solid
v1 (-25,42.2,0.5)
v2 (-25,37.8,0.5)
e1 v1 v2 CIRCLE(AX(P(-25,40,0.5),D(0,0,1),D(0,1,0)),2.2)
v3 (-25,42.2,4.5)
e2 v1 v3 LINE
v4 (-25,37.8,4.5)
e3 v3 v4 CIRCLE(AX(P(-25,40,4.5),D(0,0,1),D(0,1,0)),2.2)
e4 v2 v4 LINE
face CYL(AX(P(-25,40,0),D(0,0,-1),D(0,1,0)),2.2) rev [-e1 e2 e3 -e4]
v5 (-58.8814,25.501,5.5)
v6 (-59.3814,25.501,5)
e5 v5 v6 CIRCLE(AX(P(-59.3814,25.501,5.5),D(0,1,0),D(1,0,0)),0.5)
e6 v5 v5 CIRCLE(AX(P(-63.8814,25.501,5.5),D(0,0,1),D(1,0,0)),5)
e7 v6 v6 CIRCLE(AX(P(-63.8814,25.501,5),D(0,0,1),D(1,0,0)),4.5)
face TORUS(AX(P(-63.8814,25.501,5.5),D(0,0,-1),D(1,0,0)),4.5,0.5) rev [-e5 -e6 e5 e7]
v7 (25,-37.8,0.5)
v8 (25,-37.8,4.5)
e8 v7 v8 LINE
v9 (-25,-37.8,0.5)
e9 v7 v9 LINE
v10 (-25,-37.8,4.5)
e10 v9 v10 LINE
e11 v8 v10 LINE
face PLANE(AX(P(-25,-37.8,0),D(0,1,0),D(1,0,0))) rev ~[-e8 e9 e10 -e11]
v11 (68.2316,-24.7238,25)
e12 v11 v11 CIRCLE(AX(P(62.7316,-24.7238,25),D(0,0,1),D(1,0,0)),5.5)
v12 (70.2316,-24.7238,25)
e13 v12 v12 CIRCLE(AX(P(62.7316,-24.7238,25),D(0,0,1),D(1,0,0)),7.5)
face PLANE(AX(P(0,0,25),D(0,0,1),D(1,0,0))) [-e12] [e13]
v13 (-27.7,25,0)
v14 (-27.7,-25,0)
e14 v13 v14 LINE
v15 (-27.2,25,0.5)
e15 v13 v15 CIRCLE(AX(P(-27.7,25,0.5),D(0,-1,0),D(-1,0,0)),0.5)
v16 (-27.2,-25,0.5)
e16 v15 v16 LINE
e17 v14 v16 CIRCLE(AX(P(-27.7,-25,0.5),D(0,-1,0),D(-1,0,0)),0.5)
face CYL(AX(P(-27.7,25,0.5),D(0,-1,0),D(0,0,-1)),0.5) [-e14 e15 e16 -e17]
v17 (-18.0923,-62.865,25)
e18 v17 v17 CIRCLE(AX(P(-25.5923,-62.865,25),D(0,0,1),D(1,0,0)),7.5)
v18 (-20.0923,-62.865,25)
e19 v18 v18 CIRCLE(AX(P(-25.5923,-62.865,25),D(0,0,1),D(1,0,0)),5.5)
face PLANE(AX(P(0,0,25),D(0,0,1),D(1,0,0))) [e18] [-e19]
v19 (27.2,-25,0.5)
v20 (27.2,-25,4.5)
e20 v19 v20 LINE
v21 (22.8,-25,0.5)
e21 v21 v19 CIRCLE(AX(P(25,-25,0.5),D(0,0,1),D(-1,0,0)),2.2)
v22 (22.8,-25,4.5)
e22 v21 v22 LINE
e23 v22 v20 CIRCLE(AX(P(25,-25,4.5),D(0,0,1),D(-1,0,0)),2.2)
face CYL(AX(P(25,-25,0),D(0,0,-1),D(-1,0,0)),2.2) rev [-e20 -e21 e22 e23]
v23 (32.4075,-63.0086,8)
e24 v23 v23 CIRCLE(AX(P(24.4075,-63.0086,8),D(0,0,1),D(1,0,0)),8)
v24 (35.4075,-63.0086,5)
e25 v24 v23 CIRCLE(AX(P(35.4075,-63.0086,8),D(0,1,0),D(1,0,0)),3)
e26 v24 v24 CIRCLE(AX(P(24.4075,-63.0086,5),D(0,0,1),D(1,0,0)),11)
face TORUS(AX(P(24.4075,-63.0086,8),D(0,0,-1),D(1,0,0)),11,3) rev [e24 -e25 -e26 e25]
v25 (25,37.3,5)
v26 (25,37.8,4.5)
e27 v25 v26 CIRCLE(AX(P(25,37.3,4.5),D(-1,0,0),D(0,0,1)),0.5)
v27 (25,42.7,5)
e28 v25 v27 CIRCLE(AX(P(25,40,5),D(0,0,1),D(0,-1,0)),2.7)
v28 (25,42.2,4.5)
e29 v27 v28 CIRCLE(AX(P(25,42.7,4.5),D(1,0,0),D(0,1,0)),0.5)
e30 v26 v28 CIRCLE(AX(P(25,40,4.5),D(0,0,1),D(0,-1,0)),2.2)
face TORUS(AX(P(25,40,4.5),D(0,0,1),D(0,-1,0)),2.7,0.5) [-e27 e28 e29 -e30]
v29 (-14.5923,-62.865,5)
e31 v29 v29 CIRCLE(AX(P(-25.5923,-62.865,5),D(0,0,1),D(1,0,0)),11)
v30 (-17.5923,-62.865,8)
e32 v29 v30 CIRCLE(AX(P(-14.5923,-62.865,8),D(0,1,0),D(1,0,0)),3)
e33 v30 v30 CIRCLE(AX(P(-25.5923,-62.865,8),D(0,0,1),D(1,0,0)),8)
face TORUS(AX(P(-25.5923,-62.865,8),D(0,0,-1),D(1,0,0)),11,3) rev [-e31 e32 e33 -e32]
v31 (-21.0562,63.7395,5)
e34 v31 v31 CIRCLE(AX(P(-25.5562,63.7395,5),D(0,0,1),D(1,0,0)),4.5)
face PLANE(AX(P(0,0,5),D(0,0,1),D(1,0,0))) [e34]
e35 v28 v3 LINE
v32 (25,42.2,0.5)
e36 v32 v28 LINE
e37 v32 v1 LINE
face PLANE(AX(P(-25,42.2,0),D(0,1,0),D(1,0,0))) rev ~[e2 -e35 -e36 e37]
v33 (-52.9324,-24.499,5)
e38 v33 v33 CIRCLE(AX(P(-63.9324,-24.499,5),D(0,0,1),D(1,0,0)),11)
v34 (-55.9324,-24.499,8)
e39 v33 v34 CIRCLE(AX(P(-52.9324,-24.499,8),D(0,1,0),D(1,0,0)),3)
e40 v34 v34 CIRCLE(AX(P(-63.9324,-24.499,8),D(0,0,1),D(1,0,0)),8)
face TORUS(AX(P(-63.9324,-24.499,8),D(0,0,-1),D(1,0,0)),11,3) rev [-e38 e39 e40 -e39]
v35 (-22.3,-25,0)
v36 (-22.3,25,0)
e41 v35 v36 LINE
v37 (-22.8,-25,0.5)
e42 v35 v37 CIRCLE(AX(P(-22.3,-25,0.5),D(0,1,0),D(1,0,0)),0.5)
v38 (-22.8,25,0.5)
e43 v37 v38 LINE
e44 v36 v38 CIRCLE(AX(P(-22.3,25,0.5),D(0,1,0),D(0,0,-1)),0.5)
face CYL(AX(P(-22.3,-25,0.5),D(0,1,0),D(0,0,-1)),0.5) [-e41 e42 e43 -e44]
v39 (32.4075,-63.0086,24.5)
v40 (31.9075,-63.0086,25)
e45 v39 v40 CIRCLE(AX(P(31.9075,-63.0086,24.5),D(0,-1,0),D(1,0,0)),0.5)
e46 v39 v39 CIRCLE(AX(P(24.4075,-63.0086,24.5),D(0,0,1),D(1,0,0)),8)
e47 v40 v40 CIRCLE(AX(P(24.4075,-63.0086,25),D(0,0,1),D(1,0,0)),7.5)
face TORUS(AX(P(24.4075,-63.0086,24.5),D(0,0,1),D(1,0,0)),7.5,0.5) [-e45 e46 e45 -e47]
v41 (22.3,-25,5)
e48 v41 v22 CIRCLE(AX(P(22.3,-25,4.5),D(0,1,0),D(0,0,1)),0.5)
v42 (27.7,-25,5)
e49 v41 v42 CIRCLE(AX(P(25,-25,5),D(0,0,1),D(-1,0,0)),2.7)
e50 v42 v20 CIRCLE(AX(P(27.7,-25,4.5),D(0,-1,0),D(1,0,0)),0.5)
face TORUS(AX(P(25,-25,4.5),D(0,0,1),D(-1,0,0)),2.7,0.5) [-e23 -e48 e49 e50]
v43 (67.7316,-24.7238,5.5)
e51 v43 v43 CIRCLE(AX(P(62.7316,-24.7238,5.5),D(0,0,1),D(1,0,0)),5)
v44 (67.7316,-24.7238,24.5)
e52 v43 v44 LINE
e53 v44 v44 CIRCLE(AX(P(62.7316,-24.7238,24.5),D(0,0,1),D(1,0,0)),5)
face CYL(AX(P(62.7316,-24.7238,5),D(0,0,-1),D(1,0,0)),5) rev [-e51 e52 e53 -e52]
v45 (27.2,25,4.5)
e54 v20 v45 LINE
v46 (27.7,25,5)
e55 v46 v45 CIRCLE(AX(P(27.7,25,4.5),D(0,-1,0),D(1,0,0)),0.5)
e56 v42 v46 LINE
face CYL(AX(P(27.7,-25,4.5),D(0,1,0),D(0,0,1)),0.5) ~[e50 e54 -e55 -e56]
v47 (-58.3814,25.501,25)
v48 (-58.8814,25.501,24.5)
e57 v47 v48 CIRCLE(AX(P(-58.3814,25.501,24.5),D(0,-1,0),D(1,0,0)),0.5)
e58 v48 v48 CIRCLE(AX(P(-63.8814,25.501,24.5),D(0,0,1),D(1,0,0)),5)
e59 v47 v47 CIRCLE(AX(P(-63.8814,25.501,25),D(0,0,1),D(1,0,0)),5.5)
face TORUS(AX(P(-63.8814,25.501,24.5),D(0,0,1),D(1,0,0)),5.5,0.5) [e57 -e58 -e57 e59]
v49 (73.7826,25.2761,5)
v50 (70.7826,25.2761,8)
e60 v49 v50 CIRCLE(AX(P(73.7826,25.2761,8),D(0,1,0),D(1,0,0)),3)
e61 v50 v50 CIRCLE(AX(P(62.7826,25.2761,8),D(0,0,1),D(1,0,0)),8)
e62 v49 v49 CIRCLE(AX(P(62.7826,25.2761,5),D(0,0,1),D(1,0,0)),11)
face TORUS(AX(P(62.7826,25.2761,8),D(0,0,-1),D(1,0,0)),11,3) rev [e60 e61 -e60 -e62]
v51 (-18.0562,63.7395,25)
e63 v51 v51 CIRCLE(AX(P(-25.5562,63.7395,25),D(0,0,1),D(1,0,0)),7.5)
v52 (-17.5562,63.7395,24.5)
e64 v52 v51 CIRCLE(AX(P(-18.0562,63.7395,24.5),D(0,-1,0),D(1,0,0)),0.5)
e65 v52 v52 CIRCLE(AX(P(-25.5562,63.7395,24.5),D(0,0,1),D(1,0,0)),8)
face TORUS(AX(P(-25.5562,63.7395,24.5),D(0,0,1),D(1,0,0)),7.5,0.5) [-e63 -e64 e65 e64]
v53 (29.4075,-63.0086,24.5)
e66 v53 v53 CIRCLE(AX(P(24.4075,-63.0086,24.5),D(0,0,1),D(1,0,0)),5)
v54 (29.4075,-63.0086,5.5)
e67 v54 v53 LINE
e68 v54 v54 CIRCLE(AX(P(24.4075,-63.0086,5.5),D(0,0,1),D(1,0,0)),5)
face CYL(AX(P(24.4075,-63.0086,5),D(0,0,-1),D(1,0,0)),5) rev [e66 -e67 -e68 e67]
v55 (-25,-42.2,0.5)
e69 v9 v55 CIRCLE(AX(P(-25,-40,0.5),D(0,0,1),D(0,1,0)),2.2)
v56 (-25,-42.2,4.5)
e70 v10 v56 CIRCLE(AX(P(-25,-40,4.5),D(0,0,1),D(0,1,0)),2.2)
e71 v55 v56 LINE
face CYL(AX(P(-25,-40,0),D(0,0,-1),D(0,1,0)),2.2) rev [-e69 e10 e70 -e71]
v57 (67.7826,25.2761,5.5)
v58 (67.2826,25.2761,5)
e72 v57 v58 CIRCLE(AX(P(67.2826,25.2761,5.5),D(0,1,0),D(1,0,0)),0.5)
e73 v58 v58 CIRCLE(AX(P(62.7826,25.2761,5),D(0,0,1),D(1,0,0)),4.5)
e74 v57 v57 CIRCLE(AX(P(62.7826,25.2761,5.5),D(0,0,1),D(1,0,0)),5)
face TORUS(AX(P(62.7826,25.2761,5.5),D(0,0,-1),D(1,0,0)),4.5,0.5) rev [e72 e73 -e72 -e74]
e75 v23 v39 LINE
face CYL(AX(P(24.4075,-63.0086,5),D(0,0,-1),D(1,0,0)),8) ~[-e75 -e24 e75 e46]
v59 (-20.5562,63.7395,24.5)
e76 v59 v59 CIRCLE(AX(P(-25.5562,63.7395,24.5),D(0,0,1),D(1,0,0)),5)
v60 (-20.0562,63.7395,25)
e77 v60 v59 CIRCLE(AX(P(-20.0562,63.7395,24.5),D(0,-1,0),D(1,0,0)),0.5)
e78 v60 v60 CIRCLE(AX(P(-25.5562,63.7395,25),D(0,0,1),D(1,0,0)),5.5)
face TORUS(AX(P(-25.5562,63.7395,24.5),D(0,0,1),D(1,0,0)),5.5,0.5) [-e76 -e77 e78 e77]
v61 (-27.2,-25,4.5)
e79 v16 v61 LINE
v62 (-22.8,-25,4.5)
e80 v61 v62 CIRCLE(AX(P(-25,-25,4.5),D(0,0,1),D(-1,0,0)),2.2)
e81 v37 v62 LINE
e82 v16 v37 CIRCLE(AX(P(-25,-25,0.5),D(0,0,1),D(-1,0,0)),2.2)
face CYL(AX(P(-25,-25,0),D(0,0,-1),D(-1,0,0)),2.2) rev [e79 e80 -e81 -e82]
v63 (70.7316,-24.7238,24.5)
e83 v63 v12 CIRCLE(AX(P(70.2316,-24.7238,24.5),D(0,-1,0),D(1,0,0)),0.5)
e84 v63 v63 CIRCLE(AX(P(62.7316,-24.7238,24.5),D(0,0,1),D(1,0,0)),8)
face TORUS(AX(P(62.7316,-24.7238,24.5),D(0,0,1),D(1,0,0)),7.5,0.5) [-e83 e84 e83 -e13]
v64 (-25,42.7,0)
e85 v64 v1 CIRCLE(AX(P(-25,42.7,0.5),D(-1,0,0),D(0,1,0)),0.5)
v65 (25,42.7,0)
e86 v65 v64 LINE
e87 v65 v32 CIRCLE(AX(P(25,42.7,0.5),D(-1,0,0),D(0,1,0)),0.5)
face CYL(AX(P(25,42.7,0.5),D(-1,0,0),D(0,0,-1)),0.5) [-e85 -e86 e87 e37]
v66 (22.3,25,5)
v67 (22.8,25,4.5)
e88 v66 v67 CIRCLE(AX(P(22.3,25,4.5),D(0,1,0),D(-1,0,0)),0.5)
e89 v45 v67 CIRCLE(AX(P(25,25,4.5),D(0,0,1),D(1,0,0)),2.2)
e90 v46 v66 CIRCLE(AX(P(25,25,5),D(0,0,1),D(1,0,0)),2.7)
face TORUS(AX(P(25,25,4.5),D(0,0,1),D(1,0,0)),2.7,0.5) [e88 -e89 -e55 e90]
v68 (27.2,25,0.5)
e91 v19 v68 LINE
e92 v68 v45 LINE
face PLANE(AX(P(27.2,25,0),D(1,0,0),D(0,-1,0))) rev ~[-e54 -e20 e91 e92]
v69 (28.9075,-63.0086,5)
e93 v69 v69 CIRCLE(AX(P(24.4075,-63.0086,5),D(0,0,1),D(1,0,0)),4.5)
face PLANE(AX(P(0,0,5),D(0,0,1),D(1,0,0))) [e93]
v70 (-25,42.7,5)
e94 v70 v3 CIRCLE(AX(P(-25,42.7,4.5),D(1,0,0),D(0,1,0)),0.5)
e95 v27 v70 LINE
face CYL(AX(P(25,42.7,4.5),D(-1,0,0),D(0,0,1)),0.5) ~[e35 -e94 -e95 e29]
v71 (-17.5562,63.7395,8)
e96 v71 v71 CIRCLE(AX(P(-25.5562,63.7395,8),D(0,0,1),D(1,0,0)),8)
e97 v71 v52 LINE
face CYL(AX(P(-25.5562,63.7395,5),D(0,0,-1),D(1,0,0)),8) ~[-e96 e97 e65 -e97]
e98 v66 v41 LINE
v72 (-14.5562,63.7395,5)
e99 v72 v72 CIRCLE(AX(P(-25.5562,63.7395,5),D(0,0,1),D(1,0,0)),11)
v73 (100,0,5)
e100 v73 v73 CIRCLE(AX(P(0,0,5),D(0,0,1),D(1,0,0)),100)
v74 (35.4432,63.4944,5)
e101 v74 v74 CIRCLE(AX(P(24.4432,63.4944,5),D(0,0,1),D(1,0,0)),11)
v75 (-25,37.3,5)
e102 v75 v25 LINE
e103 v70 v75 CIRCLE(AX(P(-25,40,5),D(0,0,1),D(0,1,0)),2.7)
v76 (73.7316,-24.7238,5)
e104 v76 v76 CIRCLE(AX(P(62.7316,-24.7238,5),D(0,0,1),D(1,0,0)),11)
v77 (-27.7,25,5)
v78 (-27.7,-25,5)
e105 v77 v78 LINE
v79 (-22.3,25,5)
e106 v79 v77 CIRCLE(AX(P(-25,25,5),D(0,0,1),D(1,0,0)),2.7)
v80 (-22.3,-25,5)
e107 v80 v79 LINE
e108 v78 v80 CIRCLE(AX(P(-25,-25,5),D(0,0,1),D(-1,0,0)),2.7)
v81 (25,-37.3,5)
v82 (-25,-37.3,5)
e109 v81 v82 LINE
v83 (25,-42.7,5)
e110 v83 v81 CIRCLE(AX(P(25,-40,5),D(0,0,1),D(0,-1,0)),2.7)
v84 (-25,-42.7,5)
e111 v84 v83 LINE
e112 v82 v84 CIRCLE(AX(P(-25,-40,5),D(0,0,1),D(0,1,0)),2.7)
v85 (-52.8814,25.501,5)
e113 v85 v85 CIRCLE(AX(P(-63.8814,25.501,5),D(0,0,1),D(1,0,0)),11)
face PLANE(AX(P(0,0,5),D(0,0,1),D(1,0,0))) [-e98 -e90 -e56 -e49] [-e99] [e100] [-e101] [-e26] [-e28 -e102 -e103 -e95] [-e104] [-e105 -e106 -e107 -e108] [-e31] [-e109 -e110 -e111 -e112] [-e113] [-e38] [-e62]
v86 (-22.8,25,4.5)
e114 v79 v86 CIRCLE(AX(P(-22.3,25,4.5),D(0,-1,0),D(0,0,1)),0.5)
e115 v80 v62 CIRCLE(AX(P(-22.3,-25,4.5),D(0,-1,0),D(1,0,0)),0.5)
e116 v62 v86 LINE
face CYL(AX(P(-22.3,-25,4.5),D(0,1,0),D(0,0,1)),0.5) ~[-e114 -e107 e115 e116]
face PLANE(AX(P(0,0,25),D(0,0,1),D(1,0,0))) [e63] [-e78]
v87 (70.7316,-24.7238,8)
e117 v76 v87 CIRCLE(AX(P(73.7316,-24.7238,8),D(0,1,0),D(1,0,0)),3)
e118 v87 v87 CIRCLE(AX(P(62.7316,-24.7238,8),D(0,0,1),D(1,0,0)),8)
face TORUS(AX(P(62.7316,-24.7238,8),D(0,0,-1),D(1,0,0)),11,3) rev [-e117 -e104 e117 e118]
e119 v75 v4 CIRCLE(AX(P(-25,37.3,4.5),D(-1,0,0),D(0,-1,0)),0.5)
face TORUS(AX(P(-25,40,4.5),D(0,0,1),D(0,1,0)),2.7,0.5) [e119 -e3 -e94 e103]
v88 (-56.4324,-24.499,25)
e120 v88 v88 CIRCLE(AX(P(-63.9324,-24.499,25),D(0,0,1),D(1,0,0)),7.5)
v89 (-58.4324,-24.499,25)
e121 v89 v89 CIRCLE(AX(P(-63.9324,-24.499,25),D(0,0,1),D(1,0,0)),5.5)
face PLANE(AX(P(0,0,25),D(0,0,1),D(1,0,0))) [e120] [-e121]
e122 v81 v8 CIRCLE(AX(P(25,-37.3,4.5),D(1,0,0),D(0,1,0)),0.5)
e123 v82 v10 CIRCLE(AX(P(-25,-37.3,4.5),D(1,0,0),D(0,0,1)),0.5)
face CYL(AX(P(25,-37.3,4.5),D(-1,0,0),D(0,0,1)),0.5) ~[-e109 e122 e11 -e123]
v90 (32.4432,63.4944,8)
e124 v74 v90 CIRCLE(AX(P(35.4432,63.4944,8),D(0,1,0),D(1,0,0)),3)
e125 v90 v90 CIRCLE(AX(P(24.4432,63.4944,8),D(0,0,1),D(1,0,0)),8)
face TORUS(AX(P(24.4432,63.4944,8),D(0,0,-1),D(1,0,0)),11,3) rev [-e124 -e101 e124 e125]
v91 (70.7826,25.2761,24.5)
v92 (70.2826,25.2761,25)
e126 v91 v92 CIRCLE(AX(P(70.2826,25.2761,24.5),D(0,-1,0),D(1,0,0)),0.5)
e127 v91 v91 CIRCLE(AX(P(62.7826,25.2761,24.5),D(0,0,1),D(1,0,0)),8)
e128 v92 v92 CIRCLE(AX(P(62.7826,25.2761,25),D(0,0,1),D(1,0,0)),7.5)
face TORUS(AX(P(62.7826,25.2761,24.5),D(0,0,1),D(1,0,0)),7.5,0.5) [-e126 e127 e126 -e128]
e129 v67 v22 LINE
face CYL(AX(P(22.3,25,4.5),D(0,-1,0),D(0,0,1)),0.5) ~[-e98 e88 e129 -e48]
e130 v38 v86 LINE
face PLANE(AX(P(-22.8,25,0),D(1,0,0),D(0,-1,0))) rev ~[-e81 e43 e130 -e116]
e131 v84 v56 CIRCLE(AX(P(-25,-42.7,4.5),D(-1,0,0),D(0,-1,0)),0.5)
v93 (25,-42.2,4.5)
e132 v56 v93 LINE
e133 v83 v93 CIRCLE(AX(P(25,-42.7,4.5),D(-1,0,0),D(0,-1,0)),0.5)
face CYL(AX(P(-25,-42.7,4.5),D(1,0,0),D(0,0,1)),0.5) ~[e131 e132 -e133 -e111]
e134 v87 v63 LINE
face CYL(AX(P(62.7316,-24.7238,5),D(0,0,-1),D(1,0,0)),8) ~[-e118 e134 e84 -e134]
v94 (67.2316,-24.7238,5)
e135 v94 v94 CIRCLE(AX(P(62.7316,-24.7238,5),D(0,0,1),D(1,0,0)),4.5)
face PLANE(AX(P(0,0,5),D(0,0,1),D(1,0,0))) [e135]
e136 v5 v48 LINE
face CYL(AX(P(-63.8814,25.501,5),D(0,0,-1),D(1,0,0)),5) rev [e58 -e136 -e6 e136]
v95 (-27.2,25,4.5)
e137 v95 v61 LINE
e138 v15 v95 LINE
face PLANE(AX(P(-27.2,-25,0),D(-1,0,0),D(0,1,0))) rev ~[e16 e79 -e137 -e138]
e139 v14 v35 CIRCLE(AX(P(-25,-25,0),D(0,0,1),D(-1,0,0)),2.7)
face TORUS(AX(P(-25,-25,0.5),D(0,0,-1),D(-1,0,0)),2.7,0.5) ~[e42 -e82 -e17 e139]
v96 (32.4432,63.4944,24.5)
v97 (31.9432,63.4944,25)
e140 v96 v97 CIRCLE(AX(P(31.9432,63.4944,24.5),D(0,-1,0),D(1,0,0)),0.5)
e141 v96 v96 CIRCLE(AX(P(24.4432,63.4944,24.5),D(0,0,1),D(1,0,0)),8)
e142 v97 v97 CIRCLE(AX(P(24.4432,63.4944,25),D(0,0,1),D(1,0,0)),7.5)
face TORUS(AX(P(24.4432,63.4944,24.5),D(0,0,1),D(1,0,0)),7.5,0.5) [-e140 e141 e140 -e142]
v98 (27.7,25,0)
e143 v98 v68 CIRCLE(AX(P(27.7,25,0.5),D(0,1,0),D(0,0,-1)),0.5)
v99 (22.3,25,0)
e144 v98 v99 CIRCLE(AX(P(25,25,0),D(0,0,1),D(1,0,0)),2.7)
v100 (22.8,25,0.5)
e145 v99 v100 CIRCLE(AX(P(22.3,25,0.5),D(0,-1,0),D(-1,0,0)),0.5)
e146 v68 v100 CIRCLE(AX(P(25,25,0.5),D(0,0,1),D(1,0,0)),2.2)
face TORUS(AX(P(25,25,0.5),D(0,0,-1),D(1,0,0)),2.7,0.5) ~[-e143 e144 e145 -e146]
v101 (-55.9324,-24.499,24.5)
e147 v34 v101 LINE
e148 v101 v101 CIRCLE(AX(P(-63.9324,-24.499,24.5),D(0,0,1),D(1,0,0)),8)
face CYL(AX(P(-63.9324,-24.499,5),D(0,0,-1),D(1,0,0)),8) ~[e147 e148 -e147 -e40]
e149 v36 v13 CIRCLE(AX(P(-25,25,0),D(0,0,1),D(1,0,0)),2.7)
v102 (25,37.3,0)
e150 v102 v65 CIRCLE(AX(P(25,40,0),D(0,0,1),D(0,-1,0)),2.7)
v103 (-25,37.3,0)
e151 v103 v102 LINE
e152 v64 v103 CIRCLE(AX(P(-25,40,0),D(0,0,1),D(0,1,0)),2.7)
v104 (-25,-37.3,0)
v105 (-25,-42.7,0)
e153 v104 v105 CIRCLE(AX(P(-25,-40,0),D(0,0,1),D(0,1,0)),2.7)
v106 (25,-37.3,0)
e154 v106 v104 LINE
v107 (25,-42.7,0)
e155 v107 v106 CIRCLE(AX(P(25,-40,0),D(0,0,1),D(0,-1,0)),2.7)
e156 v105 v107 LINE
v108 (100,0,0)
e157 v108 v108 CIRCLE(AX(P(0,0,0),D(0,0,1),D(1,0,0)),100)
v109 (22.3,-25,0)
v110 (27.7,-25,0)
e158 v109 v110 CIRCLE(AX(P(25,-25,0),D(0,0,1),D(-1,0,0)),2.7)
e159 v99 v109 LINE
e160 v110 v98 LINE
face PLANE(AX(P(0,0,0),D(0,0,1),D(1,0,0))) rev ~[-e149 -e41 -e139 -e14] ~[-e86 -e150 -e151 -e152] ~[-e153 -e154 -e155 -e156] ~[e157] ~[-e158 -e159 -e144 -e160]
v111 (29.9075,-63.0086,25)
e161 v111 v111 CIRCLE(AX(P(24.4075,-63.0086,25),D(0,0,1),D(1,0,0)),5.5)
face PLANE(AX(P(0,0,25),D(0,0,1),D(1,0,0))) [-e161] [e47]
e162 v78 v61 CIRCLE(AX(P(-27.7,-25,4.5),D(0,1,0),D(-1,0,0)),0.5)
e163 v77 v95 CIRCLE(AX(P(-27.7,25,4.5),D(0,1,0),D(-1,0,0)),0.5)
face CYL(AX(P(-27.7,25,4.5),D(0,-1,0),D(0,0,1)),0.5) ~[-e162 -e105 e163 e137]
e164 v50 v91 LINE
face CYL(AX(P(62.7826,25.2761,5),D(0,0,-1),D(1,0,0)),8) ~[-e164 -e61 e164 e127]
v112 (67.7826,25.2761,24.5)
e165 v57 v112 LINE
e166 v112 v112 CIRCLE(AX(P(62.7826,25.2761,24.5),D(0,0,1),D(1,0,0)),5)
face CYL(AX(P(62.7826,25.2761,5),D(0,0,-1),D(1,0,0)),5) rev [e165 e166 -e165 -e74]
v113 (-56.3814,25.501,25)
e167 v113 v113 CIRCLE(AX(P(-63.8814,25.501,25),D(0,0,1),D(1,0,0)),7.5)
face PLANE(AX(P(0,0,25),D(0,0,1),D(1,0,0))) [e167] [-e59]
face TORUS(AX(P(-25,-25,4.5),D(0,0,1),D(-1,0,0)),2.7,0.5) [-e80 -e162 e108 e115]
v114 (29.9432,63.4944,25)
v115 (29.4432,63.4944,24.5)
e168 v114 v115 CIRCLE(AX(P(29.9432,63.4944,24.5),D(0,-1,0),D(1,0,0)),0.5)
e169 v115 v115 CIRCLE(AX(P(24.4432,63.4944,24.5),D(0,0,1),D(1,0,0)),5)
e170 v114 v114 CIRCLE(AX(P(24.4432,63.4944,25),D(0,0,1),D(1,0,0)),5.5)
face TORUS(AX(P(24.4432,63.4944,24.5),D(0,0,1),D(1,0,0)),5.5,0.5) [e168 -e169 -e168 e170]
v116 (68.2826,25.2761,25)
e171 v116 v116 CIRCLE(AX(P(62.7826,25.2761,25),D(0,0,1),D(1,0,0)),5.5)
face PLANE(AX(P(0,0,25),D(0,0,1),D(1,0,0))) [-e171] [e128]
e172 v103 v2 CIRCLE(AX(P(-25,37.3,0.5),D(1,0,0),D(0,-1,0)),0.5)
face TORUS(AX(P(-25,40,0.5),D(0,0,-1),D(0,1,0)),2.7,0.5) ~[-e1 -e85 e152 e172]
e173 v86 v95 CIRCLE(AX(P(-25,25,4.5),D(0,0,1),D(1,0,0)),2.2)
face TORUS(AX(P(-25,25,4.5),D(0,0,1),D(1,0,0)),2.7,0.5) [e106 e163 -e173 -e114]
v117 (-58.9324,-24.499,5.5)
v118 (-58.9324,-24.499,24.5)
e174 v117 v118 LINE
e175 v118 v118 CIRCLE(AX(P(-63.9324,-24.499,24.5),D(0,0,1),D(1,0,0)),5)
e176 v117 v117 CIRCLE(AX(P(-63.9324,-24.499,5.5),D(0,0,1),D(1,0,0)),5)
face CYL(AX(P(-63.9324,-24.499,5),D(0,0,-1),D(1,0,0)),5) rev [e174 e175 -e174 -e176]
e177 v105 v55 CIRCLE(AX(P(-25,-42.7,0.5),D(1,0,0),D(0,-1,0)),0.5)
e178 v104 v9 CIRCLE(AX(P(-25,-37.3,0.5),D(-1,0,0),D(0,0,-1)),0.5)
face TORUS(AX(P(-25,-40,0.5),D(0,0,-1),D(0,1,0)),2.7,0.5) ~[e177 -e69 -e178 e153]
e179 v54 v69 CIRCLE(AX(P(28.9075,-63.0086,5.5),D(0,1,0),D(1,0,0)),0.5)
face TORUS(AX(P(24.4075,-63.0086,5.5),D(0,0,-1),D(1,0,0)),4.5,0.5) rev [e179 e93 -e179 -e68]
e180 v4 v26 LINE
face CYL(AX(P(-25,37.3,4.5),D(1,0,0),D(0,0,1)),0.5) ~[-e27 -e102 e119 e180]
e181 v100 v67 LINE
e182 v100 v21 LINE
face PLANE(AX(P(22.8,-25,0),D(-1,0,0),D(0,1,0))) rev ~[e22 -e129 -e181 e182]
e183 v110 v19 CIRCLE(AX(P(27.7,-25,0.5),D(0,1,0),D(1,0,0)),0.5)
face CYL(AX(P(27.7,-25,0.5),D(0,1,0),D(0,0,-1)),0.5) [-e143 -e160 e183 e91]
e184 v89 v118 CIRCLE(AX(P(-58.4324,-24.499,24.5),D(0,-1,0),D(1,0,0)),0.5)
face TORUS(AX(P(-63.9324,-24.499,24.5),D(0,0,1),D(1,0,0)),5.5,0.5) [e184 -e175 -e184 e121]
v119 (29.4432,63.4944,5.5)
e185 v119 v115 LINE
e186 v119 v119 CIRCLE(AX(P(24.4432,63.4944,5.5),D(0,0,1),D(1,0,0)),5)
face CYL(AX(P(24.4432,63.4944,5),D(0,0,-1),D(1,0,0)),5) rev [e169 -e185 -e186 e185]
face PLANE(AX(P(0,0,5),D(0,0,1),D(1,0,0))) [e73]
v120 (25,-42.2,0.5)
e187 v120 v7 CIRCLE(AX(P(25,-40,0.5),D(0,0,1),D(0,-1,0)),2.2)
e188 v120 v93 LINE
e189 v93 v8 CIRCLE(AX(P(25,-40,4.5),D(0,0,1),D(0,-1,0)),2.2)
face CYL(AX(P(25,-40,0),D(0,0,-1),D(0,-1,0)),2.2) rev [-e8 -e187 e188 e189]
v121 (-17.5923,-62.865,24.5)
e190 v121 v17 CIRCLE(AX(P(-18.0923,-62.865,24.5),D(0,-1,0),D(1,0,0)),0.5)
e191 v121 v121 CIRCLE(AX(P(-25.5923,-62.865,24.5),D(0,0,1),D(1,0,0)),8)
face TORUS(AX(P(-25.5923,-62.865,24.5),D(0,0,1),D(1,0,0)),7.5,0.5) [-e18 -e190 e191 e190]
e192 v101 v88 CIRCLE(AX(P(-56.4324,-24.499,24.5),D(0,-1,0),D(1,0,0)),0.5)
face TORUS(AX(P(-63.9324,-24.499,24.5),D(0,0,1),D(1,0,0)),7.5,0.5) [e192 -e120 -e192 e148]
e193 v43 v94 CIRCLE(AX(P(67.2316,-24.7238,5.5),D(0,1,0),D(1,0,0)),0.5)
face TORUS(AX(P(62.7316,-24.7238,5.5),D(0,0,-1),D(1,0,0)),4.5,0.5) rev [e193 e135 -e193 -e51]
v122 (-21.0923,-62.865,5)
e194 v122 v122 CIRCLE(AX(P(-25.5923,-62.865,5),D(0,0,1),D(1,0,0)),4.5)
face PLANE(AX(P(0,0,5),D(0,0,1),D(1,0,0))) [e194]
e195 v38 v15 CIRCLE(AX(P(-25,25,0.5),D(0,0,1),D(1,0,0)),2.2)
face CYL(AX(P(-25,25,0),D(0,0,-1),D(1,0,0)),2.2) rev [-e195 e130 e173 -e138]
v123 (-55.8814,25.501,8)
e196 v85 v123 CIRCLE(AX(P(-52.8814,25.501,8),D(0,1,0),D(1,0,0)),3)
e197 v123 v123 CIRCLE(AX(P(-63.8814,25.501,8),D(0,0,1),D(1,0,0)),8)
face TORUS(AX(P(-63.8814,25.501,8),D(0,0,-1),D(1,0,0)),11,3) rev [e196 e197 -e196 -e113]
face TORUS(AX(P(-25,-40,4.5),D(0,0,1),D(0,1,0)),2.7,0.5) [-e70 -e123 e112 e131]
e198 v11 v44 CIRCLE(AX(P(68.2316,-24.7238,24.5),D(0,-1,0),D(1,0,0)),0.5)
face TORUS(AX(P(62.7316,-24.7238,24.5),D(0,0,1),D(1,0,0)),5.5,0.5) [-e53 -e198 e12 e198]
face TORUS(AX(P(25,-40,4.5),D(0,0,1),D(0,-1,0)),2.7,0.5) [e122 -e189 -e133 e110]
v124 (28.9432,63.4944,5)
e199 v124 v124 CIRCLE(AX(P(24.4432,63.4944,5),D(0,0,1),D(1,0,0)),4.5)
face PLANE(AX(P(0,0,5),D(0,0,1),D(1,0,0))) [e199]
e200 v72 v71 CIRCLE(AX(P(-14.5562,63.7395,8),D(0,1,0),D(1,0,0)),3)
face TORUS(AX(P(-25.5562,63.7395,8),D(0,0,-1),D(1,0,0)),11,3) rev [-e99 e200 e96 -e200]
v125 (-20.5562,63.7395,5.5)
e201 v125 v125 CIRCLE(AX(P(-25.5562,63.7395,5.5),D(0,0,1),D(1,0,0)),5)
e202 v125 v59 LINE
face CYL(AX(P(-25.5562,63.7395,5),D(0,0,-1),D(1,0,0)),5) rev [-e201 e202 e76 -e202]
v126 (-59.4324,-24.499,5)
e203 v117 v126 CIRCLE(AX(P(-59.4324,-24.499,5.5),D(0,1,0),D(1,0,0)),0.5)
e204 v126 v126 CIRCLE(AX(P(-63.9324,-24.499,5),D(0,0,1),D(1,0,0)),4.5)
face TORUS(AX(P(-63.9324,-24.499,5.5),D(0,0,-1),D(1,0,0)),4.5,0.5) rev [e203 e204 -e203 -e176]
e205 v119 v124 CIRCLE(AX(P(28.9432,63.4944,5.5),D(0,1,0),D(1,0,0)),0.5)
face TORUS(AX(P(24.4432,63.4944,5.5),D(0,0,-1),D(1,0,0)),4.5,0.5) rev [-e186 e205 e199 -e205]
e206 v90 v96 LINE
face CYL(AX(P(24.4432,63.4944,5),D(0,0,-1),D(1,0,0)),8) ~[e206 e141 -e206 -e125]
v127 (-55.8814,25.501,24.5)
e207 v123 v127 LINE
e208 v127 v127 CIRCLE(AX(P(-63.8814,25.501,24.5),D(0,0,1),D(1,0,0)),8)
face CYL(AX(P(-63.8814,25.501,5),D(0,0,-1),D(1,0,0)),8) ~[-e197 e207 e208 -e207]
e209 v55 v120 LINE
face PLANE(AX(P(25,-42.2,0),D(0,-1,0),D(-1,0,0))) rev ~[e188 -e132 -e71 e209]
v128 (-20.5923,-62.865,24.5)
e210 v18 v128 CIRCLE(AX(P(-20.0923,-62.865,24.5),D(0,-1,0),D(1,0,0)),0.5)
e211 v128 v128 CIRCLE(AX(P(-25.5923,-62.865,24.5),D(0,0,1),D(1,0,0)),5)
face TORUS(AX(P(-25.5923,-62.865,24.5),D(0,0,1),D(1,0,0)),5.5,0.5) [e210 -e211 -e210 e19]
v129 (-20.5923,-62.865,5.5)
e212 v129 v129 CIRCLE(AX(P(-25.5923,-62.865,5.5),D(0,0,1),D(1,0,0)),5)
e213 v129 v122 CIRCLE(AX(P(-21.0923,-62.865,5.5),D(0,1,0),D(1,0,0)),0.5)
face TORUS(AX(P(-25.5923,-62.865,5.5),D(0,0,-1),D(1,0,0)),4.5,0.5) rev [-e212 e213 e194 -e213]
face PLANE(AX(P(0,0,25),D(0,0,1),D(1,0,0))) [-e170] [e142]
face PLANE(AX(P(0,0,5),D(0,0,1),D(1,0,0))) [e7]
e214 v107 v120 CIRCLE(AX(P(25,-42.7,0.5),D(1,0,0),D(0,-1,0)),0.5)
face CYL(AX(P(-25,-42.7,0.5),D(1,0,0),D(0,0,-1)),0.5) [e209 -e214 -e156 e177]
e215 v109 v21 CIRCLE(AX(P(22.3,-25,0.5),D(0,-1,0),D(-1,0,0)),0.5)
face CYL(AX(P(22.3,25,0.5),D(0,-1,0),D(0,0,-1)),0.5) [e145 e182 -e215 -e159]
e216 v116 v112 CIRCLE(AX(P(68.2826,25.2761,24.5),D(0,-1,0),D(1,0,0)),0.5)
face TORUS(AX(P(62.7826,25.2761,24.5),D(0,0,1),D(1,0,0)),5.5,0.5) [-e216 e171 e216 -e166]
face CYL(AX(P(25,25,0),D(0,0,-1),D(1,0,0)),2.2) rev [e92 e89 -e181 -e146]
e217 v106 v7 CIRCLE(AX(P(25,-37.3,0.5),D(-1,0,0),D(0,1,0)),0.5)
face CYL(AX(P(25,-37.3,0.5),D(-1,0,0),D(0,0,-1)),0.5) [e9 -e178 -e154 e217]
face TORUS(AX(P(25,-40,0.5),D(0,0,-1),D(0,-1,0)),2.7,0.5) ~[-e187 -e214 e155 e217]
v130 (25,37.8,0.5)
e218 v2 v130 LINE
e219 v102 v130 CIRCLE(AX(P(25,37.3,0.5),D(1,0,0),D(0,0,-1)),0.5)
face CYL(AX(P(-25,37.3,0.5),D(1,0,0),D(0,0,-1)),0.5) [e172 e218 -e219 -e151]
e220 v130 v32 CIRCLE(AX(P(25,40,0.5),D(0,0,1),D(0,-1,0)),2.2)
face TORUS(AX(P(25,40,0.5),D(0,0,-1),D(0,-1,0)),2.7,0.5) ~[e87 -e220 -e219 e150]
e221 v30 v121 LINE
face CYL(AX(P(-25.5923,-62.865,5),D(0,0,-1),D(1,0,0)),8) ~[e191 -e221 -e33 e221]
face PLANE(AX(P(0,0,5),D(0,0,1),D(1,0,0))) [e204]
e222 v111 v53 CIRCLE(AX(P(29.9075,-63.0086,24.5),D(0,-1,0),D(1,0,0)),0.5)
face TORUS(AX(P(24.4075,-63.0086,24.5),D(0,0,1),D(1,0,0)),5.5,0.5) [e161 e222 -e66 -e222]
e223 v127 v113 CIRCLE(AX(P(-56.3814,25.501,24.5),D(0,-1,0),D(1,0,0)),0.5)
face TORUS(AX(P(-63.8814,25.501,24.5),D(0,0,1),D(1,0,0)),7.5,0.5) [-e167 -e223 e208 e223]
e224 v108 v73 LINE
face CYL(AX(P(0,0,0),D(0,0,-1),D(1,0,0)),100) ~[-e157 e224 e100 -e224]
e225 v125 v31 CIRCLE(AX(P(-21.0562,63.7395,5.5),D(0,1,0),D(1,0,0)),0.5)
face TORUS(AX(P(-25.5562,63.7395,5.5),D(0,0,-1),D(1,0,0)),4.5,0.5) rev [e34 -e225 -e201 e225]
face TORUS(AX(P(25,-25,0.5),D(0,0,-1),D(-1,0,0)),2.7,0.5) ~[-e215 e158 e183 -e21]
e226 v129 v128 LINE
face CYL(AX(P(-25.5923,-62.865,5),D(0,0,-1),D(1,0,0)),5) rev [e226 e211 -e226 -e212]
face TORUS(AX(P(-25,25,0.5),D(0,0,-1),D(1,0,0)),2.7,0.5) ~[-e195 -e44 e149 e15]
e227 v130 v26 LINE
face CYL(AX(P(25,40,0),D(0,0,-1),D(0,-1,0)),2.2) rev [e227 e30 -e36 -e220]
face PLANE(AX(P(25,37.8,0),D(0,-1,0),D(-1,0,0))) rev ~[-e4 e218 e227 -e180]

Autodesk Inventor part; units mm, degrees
ref_plane "YZ Plane" through (0, 0, 0) normal (1, 0, 0) x (0, 1, 0)
ref_plane "XZ Plane" through (0, 0, 0) normal (0, 1, 0) x (-1, 0, 0)
ref_plane "XY Plane" through (0, 0, 0) normal (0, 0, 1) x (1, 0, 0)
sketch "Sketch1" plane through (0, 0, 0) normal (0, 0, 1) x (1, 0, 0)
  circle A0 centre (0, 0) radius 100
  arc A1 (-22.8, 25) -> (-27.2, 25) centre (-25, 25) ccw
  line L0 (-25, 25) -> (-25, -25)
  arc A2 (-27.2, -25) -> (-22.8, -25) centre (-25, -25) ccw
  line L1 (-27.2, -25) -> (-27.2, 25)
  line L2 (-22.8, 25) -> (-22.8, -25)
  arc A3 (-25, 42.2) -> (-25, 37.8) centre (-25, 40) ccw
  line L3 (-25, 40) -> (25, 40)
  arc A4 (25, 37.8) -> (25, 42.2) centre (25, 40) ccw
  line L4 (-25, 42.2) -> (25, 42.2)
  line L5 (25, 37.8) -> (-25, 37.8)
  arc A5 (25, -42.2) -> (25, -37.8) centre (25, -40) ccw
  arc A6 (-25, -37.8) -> (-25, -42.2) centre (-25, -40) ccw
  line L6 (25, -42.2) -> (-25, -42.2)
  line L7 (-25, -37.8) -> (25, -37.8)
  line L8 (25, -40) -> (-25, -40)
  arc A7 (22.8, -25) -> (27.2, -25) centre (25, -25) ccw
  line L9 (25, -25) -> (25, 25)
  line L10 (27.2, 25) -> (27.2, -25)
  line L11 (22.8, -25) -> (22.8, 25)
  arc A8 (27.2, 25) -> (22.8, 25) centre (25, 25) ccw
  dimension "d0" = 200
  dimension "d1" = 4.4
  dimension "d2" = 50
  dimension "d3" = 4.4
  dimension "d8" = 4.4
  dimension "d9" = 50
  dimension "d10" = 4.4
  dimension "d11" = 40
  dimension "d14" = 360
extrude "Extrusion1" add sketch "Sketch1" along normal blind 5
sketch "Sketch2" plane through (0, 0, 5) normal (0, 0, 1) x (1, 0, 0)
  circle A0 centre (-63.8814, 25.501) radius 5 projected
  circle A1 centre (-63.9324, -24.499) radius 5 projected
  circle A2 centre (-25.5923, -62.865) radius 5 projected
  circle A3 centre (24.4075, -63.0086) radius 5 projected
  circle A4 centre (62.7316, -24.7238) radius 5 projected
  circle A5 centre (62.7826, 25.2761) radius 5 projected
  circle A6 centre (-25.5562, 63.7395) radius 5 projected
  circle A7 centre (24.4432, 63.4944) radius 5 projected
  circle A8 centre (24.4075, -63.0086) radius 8
  circle A9 centre (-25.5923, -62.865) radius 8
  circle A10 centre (-63.9324, -24.499) radius 8
  circle A11 centre (-63.8814, 25.501) radius 8
  circle A12 centre (-25.5562, 63.7395) radius 8
  circle A13 centre (24.4432, 63.4944) radius 8
  circle A14 centre (62.7826, 25.2761) radius 8
  circle A15 centre (62.7316, -24.7238) radius 8
  point P0 (0, 0)
  dimension "d19" = 16
  dimension "d20" = 16
  dimension "d21" = 16
  dimension "d22" = 16
  dimension "d23" = 16
  dimension "d24" = 16
  dimension "d25" = 16
  dimension "d26" = 16
  dimension "d30" = 50
extrude "Extrusion2" add sketch "Sketch2" along normal blind 20
fillet "Fillet1" radius 0.5 56 edges at (-25, -27.2, 5) (-27.2, 0, 5) (-25, 27.2, 5) (-22.8, 0, 5) (-25, -27.2, 0) (-27.2, 0, 0) (-25, 27.2, 0) (-22.8, 0, 0) (25, 27.2, 5) (27.2, 0, 5) (25, -27.2, 5) (22.8, 0, 5) (25, -27.2, 0) (22.8, 0, 0) (25, 27.2, 0) (27.2, 0, 0) (-27.2, 40, 5) (0, 42.2, 5) (27.2, 40, 5) (0, 37.8, 5) (-27.2, 40, 0) (0, 42.2, 0) (27.2, 40, 0) (0, 37.8, 0) (27.2, -40, 0) (0, -42.2, 0) (-27.2, -40, 0) (0, -37.8, 0) (27.2, -40, 5) (0, -42.2, 5) (-27.2, -40, 5) (0, -37.8, 5) (54.7316, -24.7238, 25) (57.7316, -24.7238, 25) (54.7826, 25.2761, 25) (57.7826, 25.2761, 25) (16.4432, 63.4944, 25) (19.4432, 63.4944, 25) (-33.5562, 63.7395, 25) (-30.5562, 63.7395, 25) (-71.8814, 25.501, 25) (-68.8814, 25.501, 25) (-71.9324, -24.499, 25) (-68.9324, -24.499, 25) (-33.5923, -62.865, 25) (-30.5923, -62.865, 25) (16.4075, -63.0086, 25) (19.4075, -63.0086, 25) (19.4075, -63.0086, 5) (57.7316, -24.7238, 5) (57.7826, 25.2761, 5) (19.4432, 63.4944, 5) (-30.5562, 63.7395, 5) (-68.8814, 25.501, 5) (-68.9324, -24.499, 5) (-30.5923, -62.865, 5)
fillet "Fillet2" radius 3 8 edges at (-33.5923, -62.865, 5) (16.4075, -63.0086, 5) (54.7316, -24.7238, 5) (54.7826, 25.2761, 5) (16.4432, 63.4944, 5) (-33.5562, 63.7395, 5) (-71.8814, 25.501, 5) (-71.9324, -24.499, 5)
equation "\"d20\" = d19"
equation "\"d21\" = d19"
equation "\"d22\" = d19"
equation "\"d23\" = d19"
equation "\"d24\" = d19"
equation "\"d25\" = d19"
equation "\"d26\" = d19"
properties part number "tableStandTop"
